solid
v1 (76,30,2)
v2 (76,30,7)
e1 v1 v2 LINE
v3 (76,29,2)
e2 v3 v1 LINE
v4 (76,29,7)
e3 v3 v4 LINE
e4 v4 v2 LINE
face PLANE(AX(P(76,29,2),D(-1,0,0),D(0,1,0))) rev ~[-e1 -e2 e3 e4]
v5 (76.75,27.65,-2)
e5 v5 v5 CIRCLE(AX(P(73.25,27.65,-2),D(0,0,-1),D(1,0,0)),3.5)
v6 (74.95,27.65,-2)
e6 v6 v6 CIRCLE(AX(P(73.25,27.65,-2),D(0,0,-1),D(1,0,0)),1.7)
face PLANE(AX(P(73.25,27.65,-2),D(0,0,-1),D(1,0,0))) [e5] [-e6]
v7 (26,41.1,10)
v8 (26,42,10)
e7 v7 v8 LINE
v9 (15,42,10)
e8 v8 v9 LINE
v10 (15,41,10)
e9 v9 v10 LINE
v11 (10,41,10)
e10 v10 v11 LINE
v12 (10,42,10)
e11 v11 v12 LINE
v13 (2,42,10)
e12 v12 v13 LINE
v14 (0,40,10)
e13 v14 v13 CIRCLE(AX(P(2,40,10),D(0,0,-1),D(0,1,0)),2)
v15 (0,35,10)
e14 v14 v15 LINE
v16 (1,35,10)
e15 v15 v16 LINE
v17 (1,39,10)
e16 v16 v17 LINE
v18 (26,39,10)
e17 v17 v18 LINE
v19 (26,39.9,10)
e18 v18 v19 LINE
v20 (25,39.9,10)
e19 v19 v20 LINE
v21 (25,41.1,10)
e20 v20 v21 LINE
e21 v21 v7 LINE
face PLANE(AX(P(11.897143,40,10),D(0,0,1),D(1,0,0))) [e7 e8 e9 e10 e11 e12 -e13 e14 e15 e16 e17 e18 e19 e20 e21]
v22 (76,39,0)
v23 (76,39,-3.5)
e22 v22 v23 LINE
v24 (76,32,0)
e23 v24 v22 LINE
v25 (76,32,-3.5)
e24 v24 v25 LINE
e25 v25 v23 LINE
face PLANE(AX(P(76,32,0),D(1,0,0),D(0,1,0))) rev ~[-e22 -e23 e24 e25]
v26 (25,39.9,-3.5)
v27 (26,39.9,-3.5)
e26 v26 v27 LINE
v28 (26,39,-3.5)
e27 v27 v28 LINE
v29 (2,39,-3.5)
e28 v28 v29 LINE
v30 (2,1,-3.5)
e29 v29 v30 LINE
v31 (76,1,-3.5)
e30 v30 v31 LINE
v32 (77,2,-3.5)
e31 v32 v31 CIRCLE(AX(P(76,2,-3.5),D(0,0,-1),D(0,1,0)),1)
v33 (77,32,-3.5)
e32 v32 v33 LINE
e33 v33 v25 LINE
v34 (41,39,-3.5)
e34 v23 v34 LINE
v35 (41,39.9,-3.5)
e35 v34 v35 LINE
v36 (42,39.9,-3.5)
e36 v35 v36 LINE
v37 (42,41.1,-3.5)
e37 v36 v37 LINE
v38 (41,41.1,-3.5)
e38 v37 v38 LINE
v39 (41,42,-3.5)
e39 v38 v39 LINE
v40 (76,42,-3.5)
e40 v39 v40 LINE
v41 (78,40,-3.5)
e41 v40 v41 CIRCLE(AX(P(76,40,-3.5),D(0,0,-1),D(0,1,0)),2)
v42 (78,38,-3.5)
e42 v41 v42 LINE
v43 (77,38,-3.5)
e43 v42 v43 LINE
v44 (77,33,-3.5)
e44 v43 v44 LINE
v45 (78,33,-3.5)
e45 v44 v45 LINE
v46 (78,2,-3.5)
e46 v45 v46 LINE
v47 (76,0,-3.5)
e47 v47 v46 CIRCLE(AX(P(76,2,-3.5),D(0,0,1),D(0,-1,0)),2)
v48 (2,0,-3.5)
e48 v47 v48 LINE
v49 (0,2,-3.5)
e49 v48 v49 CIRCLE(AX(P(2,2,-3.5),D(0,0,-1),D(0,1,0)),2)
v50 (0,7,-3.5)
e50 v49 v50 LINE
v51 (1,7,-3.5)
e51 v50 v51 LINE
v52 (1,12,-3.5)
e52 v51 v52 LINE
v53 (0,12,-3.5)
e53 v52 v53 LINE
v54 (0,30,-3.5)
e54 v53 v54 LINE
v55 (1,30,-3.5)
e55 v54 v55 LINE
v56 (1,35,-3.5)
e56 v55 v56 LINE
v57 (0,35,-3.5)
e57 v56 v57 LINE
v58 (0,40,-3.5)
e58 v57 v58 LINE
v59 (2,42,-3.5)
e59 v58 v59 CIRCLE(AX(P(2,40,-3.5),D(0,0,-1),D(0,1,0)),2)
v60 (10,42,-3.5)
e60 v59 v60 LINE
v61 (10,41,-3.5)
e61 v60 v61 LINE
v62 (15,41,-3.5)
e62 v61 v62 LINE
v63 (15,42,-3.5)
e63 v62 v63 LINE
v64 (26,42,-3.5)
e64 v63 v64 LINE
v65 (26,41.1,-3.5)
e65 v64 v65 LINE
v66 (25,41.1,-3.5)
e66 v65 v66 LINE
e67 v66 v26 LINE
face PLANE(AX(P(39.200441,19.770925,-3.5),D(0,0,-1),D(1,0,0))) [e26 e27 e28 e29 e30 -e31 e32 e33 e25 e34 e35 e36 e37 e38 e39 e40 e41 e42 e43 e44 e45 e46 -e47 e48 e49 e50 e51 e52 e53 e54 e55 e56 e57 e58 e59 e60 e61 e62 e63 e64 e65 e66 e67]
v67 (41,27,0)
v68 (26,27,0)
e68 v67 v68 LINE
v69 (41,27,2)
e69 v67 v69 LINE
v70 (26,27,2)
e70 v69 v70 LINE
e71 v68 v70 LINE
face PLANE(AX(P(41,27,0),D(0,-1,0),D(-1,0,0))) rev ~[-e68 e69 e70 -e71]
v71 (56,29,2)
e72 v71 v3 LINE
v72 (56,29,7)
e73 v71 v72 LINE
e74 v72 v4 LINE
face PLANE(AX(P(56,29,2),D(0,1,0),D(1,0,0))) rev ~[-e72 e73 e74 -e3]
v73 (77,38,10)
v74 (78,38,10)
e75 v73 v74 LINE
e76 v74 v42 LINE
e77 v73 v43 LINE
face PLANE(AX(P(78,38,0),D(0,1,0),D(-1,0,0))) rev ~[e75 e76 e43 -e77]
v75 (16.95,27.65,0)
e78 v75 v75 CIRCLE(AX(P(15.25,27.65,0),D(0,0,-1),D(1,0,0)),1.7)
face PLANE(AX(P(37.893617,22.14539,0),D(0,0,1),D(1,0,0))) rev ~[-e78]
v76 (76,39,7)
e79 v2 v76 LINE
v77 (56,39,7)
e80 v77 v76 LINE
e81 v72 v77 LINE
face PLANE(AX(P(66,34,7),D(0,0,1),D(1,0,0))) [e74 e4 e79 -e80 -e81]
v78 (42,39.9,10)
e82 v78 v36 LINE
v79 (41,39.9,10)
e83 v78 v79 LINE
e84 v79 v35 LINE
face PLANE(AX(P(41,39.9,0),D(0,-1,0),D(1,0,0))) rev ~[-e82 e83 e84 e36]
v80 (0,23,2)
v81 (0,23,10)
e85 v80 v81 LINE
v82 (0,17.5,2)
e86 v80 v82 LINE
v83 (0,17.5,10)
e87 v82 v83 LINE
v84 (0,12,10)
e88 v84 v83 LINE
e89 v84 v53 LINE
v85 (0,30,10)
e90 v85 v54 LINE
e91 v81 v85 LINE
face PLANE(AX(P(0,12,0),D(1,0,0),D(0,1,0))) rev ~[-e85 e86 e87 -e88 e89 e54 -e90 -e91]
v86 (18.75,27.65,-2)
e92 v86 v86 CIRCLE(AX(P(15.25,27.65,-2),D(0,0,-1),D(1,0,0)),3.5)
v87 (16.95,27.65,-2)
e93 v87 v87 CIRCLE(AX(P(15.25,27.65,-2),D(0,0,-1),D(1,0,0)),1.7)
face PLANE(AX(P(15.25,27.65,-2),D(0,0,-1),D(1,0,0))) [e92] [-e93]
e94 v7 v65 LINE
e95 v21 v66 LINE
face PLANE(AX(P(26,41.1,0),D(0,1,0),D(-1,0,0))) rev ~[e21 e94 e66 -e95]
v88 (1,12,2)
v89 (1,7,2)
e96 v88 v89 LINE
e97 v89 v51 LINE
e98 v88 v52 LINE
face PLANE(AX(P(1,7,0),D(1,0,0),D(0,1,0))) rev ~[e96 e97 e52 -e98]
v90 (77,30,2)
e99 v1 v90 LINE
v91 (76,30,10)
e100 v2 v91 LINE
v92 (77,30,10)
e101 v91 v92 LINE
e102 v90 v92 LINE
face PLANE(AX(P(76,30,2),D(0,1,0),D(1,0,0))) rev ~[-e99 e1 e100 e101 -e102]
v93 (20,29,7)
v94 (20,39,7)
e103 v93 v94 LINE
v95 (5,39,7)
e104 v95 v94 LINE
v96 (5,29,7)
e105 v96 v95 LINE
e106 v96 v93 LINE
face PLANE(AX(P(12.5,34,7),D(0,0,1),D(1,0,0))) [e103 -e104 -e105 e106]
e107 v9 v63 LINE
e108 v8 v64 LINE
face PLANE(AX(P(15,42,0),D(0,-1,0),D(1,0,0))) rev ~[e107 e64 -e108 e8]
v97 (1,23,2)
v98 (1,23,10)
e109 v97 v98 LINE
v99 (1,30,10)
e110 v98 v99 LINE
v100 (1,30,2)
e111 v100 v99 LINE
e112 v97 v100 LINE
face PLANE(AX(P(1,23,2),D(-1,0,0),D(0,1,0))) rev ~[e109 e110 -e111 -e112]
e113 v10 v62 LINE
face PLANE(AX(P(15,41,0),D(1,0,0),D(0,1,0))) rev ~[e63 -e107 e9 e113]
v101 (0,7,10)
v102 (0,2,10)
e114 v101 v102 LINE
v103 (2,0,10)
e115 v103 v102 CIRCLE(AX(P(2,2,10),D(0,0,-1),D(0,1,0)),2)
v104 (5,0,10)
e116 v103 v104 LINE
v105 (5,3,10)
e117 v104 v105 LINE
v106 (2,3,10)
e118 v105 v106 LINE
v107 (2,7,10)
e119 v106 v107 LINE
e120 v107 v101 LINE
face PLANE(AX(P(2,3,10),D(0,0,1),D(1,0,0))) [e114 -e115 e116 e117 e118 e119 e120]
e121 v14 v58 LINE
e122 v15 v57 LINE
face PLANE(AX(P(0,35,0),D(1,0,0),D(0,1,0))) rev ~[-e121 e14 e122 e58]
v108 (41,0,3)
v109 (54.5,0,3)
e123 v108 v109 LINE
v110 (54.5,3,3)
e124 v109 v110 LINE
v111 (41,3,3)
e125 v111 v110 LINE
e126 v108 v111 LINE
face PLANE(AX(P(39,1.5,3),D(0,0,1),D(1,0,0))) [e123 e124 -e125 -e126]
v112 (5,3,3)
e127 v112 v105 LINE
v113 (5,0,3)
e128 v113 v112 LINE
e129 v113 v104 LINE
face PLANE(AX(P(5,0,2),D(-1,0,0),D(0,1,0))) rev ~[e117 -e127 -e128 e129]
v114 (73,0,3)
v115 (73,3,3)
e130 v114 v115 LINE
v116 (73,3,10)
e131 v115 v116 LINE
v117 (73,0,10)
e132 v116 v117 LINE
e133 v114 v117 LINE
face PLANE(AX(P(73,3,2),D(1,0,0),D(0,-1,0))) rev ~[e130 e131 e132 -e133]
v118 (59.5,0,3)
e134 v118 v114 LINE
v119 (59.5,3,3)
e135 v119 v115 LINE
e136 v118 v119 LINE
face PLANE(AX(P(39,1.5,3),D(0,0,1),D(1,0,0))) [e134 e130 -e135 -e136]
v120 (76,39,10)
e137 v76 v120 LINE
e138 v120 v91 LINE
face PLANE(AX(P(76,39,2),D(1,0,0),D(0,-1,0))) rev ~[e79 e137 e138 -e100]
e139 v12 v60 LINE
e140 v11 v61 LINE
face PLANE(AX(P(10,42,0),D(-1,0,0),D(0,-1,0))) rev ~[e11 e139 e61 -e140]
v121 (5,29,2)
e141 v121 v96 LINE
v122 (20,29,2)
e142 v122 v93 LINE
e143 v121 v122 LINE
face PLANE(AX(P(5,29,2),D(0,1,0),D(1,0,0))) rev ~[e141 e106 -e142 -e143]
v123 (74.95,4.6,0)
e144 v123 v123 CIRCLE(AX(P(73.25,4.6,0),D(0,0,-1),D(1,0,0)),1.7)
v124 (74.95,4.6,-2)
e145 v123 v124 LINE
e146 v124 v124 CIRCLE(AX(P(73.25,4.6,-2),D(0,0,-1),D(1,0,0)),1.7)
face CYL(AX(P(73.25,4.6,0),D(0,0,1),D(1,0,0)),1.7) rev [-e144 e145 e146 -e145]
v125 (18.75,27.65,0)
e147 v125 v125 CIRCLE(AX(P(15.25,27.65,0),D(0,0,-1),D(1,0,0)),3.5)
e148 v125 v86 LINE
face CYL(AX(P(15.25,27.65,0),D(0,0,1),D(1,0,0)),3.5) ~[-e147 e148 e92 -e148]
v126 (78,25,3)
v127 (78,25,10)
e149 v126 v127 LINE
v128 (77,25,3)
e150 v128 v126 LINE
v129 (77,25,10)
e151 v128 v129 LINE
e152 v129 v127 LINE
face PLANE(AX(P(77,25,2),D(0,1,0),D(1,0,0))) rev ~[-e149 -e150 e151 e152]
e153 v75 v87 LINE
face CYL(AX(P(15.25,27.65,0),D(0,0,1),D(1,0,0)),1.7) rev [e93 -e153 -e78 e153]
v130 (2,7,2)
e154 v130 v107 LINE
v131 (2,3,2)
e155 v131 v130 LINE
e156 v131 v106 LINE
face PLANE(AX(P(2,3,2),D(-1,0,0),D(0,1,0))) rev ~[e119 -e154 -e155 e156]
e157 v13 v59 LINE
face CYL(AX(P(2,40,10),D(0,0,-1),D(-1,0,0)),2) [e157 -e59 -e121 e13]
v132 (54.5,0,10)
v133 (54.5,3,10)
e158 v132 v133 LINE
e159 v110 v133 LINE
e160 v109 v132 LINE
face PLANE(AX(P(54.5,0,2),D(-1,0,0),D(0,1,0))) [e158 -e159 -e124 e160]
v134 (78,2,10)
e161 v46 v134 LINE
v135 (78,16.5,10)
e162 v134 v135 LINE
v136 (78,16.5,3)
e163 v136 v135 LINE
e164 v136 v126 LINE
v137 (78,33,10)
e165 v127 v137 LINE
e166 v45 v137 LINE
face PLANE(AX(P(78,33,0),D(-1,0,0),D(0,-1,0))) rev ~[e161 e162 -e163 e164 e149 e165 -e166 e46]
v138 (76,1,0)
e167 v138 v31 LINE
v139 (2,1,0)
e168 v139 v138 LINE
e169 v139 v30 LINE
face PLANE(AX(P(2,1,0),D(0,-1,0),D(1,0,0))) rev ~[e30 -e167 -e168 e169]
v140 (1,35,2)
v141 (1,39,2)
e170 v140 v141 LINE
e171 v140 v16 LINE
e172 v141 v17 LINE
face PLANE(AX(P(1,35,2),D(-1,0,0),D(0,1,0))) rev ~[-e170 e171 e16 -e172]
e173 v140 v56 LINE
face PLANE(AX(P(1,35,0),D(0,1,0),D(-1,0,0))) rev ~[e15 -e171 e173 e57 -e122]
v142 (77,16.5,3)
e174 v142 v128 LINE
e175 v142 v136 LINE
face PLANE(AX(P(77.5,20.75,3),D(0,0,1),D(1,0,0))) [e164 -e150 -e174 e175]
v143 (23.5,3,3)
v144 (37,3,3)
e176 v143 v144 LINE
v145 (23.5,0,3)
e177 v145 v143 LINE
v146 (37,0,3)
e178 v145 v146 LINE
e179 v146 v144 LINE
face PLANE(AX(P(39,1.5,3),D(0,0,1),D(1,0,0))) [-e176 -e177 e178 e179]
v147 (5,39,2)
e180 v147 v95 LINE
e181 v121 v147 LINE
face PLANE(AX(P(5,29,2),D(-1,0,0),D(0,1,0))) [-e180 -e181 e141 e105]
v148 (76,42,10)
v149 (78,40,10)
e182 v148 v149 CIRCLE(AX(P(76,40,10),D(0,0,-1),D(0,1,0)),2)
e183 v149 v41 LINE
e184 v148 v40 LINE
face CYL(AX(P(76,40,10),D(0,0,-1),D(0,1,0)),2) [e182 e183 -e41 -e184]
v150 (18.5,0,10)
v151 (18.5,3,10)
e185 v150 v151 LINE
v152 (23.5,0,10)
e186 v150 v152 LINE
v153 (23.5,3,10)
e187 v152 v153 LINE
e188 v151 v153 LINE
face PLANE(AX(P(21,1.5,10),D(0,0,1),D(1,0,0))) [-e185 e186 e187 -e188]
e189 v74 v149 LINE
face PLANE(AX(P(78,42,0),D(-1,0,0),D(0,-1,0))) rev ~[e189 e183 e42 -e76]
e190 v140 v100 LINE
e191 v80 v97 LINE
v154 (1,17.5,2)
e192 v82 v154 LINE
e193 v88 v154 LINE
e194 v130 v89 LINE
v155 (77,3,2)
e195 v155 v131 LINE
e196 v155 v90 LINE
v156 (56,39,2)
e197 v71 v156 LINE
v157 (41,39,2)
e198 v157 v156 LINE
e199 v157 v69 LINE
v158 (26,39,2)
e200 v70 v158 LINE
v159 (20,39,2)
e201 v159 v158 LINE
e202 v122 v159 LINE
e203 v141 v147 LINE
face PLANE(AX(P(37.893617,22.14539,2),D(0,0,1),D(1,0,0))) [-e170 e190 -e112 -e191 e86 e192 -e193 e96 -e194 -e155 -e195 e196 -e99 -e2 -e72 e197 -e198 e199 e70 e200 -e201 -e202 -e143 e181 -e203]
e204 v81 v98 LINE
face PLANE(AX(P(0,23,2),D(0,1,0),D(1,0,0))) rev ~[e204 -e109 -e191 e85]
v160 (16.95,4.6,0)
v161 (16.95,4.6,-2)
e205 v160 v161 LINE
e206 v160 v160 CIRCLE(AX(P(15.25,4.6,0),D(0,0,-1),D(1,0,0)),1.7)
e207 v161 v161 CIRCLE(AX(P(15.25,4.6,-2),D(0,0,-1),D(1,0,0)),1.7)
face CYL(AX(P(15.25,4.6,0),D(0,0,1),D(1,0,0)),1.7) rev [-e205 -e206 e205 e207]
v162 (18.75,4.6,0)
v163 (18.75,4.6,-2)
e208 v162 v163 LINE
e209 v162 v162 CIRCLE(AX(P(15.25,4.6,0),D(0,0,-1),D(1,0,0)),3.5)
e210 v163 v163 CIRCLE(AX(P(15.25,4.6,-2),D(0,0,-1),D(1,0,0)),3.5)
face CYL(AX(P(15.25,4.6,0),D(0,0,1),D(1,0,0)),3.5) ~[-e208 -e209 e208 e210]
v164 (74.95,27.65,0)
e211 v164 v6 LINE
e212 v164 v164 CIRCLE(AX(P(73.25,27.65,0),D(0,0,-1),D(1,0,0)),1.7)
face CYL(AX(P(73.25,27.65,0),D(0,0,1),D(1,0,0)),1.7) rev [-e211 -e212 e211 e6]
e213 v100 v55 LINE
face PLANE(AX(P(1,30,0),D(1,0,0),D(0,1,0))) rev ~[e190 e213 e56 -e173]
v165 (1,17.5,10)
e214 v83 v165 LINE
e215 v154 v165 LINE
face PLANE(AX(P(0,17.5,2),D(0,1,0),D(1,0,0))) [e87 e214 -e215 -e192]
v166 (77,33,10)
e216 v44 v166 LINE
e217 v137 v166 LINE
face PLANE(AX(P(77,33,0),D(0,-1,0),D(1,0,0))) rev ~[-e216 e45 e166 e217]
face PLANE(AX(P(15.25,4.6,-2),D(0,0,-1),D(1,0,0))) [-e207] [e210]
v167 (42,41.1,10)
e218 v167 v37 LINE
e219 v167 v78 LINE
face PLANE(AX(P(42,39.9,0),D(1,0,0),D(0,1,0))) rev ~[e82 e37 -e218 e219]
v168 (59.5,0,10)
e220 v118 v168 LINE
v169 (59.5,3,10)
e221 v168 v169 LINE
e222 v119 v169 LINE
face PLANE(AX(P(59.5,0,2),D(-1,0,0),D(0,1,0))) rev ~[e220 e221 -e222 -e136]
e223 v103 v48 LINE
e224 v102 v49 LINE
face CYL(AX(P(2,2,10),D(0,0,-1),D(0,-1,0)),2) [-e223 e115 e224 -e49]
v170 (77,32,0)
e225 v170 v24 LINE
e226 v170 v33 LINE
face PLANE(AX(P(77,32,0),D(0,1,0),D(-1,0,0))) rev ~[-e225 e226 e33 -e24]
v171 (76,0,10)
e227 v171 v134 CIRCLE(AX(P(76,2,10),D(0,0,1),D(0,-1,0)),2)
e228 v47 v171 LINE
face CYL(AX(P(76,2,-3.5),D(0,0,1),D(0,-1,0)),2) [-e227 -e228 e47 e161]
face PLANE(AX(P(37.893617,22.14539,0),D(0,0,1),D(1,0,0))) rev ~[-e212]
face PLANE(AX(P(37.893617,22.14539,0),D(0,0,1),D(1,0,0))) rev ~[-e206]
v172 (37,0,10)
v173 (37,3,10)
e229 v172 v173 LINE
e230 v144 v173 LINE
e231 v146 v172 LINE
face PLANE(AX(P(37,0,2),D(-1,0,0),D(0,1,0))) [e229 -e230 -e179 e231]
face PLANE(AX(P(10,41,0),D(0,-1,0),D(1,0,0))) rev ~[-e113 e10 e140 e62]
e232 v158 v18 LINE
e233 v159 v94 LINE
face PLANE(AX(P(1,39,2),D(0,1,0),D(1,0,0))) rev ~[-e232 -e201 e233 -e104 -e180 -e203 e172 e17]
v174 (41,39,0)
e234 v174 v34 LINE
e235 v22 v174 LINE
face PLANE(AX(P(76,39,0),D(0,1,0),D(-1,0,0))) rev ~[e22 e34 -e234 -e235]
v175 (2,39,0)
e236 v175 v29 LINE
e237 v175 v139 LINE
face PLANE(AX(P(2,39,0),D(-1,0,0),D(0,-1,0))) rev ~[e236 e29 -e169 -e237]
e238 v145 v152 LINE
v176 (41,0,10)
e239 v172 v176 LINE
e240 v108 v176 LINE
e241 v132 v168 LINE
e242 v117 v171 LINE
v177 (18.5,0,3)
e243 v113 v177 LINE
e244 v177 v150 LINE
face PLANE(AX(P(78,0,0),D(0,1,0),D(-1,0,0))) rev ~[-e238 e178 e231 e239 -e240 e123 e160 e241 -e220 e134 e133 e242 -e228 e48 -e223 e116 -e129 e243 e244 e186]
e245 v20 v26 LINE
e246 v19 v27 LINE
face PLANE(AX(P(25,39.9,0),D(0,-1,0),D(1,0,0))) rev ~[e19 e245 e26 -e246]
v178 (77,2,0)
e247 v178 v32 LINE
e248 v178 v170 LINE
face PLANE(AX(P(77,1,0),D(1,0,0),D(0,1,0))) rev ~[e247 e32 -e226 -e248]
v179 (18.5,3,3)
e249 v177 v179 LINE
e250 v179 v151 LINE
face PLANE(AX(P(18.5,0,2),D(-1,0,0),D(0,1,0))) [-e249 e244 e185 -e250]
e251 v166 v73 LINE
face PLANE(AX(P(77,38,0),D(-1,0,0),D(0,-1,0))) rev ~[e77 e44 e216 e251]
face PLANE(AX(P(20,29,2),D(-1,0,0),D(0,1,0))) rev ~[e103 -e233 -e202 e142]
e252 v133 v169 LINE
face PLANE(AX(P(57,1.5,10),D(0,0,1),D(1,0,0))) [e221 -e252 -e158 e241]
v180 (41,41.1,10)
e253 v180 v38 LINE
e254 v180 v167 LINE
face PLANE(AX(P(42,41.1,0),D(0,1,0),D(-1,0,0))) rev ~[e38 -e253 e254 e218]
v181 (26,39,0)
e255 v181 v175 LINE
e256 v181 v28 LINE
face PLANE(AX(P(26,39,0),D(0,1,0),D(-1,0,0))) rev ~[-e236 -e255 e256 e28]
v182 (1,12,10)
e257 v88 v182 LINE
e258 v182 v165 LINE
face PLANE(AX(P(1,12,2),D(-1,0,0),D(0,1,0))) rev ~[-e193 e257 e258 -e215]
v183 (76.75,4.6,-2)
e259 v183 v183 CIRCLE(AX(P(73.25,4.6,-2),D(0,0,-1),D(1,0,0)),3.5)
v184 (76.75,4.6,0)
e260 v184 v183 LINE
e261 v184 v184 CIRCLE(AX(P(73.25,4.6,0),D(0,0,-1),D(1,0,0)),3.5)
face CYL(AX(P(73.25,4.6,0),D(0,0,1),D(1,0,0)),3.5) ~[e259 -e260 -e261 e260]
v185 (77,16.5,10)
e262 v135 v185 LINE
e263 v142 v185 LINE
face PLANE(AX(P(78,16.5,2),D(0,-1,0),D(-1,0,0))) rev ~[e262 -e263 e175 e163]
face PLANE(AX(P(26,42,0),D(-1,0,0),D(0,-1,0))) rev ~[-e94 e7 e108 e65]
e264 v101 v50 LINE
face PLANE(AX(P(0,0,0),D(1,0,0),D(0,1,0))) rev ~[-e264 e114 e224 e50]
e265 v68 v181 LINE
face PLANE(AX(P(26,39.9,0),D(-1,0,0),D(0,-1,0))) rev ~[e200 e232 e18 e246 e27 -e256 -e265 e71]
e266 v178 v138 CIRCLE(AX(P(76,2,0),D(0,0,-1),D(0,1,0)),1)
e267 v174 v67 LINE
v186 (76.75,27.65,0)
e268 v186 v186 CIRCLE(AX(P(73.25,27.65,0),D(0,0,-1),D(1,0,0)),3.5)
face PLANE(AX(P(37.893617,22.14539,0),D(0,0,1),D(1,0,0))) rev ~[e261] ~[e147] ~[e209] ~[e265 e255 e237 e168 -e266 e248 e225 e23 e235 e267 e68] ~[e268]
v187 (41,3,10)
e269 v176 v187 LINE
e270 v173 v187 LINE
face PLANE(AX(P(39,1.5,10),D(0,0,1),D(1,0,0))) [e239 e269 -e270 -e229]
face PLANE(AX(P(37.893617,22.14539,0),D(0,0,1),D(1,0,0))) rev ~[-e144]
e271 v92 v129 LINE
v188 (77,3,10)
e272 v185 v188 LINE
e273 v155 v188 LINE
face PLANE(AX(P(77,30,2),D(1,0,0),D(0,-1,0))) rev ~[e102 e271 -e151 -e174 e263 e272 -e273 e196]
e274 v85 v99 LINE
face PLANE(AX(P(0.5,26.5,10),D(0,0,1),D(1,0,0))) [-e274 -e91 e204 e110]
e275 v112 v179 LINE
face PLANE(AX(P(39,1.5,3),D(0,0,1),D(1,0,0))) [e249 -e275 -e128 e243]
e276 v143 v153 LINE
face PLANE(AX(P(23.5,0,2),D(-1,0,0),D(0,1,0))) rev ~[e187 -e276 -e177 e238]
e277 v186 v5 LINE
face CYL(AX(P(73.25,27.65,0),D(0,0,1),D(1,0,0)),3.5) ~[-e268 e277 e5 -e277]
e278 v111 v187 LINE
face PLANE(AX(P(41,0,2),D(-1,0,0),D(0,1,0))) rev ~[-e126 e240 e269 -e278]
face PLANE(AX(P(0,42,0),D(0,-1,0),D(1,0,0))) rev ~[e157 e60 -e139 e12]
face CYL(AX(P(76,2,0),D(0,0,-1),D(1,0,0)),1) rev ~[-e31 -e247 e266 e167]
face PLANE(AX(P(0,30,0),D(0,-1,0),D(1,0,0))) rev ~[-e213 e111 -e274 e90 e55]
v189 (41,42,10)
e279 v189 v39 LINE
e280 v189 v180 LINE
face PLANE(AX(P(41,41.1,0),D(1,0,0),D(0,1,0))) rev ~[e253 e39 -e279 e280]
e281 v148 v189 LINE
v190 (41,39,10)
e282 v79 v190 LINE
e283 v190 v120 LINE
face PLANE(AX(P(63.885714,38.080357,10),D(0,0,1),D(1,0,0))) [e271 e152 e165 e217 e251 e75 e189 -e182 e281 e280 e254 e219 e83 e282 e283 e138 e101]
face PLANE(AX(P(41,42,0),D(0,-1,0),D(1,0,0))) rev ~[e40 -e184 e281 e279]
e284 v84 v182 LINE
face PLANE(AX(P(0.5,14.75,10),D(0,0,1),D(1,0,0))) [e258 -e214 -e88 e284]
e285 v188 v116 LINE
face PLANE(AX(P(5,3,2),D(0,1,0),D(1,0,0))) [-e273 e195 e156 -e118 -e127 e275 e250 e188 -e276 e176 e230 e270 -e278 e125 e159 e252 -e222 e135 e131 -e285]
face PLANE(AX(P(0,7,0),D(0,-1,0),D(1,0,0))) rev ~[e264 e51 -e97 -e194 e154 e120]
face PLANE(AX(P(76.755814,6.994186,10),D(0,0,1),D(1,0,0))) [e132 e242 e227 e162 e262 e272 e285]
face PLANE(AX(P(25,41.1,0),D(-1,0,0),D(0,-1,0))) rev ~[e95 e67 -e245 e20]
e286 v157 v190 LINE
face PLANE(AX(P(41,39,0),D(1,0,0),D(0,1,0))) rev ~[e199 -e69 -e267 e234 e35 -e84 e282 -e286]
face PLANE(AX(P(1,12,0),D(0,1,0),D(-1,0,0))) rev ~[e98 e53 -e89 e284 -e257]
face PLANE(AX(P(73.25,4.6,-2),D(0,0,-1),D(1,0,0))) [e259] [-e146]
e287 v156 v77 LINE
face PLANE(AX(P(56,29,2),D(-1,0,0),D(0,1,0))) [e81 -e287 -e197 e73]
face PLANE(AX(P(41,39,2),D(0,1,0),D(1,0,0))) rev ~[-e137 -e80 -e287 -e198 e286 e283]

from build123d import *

# Parameters (mm, degrees)
F1_DEPTH  = 2
F2_W      = 1
F2_H      = 7
F2_H_2    = 5.5
F2_W_2    = 5
F2_H_3    = 3
F2_W_3    = 4
F3_DEPTH  = 8
F4_W      = 68
F4_H      = 3
F4_W_2    = 1
F4_H_2    = 8.5
F5_DEPTH  = 1
F6_W      = 15
F6_H      = 10
F6_W_2    = 20
F7_DEPTH  = 5
F9_DEPTH  = 3.5
F10_R     = 3.5
F10_R_2   = 1.7
F11_DEPTH = 2
F13_R     = 2
F14_R     = 1


with BuildPart() as f1:
    # F0 (on Top) → F1 (new body)
    with BuildSketch(Plane.XY):
        Polygon((0, 7), (0, 0), (78, 0), (78, 33), (77, 33), (77, 38), (78, 38), (78, 42), (41, 42), (41, 41.1), (42, 41.1), (42, 39.9), (41, 39.9), (41, 27), (26, 27), (26, 39.9), (25, 39.9), (25, 41.1), (26, 41.1), (26, 42), (15, 42), (15, 41), (10, 41), (10, 42), (0, 42), (0, 35), (1, 35), (1, 30), (0, 30), (0, 12), (1, 12), (1, 7), align=None)
    extrude(amount=F1_DEPTH)

    # F2 (on face) → F3 (join)
    with BuildSketch(Plane.XY.offset(2)):
        Polygon((26, 42), (15, 42), (15, 41), (10, 41), (10, 42), (0, 42), (0, 35), (1, 35), (1, 39), (26, 39), (26, 39.9), (25, 39.9), (25, 41.1), (26, 41.1), align=None)
        with Locations((0.5, 26.5)):
            Rectangle(F2_W, F2_H)
        with Locations((0.5, 14.75)):
            Rectangle(F2_W, F2_H_2)
        Polygon((2, 7), (0, 7), (0, 0), (5, 0), (5, 3), (2, 3), align=None)
        Polygon((41, 39.9), (41, 39), (76, 39), (76, 30), (77, 30), (77, 25), (78, 25), (78, 33), (77, 33), (77, 38), (78, 38), (78, 42), (41, 42), (41, 41.1), (42, 41.1), (42, 39.9), align=None)
        Polygon((78, 0), (78, 16.5), (77, 16.5), (77, 3), (73, 3), (73, 0), align=None)
        with Locations((21, 1.5)):
            Rectangle(F2_W_2, F2_H_3)
        with Locations((39, 1.5)):
            Rectangle(F2_W_3, F2_H_3)
        with Locations((57, 1.5)):
            Rectangle(F2_W_2, F2_H_3)
    extrude(amount=F3_DEPTH)

    # F4 (on face) → F5 (join)
    with BuildSketch(Plane.XY.offset(2)):
        with Locations((39, 1.5)):
            Rectangle(F4_W, F4_H)
        with Locations((77.5, 20.75)):
            Rectangle(F4_W_2, F4_H_2)
    extrude(amount=F5_DEPTH)

    # F6 (on face) → F7 (join)
    with BuildSketch(Plane.XY.offset(2)):
        with Locations((12.5, 34)):
            Rectangle(F6_W, F6_H)
        with Locations((66, 34)):
            Rectangle(F6_W_2, F6_H)
    extrude(amount=F7_DEPTH)

    # F8 (on face) → F9 (join)
    with BuildSketch(Plane(origin=(0, 0, 0), x_dir=(1, 0, 0), z_dir=(0, 0, -1))):
        Polygon((78, 0), (0, 0), (0, -7), (1, -7), (1, -12), (0, -12), (0, -30), (1, -30), (1, -35), (0, -35), (0, -42), (10, -42), (10, -41), (15, -41), (15, -42), (26, -42), (26, -41.1), (25, -41.1), (25, -39.9), (26, -39.9), (26, -39), (2, -39), (2, -1), (77, -1), (77, -32), (76, -32), (76, -39), (41, -39), (41, -39.9), (42, -39.9), (42, -41.1), (41, -41.1), (41, -42), (78, -42), (78, -38), (77, -38), (77, -33), (78, -33), align=None)
    extrude(amount=F9_DEPTH)

    # F10 (on face) → F11 (join)
    with BuildSketch(Plane(origin=(0, 0, 0), x_dir=(1, 0, 0), z_dir=(0, 0, -1))):
        with Locations((73.25, -4.6)):
            Circle(F10_R)
        with Locations((73.25, -4.6)):
            Circle(F10_R_2, mode=Mode.SUBTRACT)
        with Locations((73.25, -27.65)):
            Circle(F10_R)
        with Locations((73.25, -27.65)):
            Circle(F10_R_2, mode=Mode.SUBTRACT)
        with Locations((15.25, -4.6)):
            Circle(F10_R)
        with Locations((15.25, -4.6)):
            Circle(F10_R_2, mode=Mode.SUBTRACT)
        with Locations((15.25, -27.65)):
            Circle(F10_R)
        with Locations((15.25, -27.65)):
            Circle(F10_R_2, mode=Mode.SUBTRACT)
    extrude(amount=F11_DEPTH)

    # F12: union 

    # F13
    f13_edges = [f1.edges().sort_by_distance(p)[0] for p in [
        (78, 0, 3.25),
        (78, 42, 3.25),
        (0, 0, 3.25),
        (0, 42, 3.25),
    ]]
    fillet(f13_edges, radius=F13_R)

    # F14
    f14_edges = [f1.edges().sort_by_distance(p)[0] for p in [
        (77, 1, -1.75),
    ]]
    fillet(f14_edges, radius=F14_R)


solid = f1.part
